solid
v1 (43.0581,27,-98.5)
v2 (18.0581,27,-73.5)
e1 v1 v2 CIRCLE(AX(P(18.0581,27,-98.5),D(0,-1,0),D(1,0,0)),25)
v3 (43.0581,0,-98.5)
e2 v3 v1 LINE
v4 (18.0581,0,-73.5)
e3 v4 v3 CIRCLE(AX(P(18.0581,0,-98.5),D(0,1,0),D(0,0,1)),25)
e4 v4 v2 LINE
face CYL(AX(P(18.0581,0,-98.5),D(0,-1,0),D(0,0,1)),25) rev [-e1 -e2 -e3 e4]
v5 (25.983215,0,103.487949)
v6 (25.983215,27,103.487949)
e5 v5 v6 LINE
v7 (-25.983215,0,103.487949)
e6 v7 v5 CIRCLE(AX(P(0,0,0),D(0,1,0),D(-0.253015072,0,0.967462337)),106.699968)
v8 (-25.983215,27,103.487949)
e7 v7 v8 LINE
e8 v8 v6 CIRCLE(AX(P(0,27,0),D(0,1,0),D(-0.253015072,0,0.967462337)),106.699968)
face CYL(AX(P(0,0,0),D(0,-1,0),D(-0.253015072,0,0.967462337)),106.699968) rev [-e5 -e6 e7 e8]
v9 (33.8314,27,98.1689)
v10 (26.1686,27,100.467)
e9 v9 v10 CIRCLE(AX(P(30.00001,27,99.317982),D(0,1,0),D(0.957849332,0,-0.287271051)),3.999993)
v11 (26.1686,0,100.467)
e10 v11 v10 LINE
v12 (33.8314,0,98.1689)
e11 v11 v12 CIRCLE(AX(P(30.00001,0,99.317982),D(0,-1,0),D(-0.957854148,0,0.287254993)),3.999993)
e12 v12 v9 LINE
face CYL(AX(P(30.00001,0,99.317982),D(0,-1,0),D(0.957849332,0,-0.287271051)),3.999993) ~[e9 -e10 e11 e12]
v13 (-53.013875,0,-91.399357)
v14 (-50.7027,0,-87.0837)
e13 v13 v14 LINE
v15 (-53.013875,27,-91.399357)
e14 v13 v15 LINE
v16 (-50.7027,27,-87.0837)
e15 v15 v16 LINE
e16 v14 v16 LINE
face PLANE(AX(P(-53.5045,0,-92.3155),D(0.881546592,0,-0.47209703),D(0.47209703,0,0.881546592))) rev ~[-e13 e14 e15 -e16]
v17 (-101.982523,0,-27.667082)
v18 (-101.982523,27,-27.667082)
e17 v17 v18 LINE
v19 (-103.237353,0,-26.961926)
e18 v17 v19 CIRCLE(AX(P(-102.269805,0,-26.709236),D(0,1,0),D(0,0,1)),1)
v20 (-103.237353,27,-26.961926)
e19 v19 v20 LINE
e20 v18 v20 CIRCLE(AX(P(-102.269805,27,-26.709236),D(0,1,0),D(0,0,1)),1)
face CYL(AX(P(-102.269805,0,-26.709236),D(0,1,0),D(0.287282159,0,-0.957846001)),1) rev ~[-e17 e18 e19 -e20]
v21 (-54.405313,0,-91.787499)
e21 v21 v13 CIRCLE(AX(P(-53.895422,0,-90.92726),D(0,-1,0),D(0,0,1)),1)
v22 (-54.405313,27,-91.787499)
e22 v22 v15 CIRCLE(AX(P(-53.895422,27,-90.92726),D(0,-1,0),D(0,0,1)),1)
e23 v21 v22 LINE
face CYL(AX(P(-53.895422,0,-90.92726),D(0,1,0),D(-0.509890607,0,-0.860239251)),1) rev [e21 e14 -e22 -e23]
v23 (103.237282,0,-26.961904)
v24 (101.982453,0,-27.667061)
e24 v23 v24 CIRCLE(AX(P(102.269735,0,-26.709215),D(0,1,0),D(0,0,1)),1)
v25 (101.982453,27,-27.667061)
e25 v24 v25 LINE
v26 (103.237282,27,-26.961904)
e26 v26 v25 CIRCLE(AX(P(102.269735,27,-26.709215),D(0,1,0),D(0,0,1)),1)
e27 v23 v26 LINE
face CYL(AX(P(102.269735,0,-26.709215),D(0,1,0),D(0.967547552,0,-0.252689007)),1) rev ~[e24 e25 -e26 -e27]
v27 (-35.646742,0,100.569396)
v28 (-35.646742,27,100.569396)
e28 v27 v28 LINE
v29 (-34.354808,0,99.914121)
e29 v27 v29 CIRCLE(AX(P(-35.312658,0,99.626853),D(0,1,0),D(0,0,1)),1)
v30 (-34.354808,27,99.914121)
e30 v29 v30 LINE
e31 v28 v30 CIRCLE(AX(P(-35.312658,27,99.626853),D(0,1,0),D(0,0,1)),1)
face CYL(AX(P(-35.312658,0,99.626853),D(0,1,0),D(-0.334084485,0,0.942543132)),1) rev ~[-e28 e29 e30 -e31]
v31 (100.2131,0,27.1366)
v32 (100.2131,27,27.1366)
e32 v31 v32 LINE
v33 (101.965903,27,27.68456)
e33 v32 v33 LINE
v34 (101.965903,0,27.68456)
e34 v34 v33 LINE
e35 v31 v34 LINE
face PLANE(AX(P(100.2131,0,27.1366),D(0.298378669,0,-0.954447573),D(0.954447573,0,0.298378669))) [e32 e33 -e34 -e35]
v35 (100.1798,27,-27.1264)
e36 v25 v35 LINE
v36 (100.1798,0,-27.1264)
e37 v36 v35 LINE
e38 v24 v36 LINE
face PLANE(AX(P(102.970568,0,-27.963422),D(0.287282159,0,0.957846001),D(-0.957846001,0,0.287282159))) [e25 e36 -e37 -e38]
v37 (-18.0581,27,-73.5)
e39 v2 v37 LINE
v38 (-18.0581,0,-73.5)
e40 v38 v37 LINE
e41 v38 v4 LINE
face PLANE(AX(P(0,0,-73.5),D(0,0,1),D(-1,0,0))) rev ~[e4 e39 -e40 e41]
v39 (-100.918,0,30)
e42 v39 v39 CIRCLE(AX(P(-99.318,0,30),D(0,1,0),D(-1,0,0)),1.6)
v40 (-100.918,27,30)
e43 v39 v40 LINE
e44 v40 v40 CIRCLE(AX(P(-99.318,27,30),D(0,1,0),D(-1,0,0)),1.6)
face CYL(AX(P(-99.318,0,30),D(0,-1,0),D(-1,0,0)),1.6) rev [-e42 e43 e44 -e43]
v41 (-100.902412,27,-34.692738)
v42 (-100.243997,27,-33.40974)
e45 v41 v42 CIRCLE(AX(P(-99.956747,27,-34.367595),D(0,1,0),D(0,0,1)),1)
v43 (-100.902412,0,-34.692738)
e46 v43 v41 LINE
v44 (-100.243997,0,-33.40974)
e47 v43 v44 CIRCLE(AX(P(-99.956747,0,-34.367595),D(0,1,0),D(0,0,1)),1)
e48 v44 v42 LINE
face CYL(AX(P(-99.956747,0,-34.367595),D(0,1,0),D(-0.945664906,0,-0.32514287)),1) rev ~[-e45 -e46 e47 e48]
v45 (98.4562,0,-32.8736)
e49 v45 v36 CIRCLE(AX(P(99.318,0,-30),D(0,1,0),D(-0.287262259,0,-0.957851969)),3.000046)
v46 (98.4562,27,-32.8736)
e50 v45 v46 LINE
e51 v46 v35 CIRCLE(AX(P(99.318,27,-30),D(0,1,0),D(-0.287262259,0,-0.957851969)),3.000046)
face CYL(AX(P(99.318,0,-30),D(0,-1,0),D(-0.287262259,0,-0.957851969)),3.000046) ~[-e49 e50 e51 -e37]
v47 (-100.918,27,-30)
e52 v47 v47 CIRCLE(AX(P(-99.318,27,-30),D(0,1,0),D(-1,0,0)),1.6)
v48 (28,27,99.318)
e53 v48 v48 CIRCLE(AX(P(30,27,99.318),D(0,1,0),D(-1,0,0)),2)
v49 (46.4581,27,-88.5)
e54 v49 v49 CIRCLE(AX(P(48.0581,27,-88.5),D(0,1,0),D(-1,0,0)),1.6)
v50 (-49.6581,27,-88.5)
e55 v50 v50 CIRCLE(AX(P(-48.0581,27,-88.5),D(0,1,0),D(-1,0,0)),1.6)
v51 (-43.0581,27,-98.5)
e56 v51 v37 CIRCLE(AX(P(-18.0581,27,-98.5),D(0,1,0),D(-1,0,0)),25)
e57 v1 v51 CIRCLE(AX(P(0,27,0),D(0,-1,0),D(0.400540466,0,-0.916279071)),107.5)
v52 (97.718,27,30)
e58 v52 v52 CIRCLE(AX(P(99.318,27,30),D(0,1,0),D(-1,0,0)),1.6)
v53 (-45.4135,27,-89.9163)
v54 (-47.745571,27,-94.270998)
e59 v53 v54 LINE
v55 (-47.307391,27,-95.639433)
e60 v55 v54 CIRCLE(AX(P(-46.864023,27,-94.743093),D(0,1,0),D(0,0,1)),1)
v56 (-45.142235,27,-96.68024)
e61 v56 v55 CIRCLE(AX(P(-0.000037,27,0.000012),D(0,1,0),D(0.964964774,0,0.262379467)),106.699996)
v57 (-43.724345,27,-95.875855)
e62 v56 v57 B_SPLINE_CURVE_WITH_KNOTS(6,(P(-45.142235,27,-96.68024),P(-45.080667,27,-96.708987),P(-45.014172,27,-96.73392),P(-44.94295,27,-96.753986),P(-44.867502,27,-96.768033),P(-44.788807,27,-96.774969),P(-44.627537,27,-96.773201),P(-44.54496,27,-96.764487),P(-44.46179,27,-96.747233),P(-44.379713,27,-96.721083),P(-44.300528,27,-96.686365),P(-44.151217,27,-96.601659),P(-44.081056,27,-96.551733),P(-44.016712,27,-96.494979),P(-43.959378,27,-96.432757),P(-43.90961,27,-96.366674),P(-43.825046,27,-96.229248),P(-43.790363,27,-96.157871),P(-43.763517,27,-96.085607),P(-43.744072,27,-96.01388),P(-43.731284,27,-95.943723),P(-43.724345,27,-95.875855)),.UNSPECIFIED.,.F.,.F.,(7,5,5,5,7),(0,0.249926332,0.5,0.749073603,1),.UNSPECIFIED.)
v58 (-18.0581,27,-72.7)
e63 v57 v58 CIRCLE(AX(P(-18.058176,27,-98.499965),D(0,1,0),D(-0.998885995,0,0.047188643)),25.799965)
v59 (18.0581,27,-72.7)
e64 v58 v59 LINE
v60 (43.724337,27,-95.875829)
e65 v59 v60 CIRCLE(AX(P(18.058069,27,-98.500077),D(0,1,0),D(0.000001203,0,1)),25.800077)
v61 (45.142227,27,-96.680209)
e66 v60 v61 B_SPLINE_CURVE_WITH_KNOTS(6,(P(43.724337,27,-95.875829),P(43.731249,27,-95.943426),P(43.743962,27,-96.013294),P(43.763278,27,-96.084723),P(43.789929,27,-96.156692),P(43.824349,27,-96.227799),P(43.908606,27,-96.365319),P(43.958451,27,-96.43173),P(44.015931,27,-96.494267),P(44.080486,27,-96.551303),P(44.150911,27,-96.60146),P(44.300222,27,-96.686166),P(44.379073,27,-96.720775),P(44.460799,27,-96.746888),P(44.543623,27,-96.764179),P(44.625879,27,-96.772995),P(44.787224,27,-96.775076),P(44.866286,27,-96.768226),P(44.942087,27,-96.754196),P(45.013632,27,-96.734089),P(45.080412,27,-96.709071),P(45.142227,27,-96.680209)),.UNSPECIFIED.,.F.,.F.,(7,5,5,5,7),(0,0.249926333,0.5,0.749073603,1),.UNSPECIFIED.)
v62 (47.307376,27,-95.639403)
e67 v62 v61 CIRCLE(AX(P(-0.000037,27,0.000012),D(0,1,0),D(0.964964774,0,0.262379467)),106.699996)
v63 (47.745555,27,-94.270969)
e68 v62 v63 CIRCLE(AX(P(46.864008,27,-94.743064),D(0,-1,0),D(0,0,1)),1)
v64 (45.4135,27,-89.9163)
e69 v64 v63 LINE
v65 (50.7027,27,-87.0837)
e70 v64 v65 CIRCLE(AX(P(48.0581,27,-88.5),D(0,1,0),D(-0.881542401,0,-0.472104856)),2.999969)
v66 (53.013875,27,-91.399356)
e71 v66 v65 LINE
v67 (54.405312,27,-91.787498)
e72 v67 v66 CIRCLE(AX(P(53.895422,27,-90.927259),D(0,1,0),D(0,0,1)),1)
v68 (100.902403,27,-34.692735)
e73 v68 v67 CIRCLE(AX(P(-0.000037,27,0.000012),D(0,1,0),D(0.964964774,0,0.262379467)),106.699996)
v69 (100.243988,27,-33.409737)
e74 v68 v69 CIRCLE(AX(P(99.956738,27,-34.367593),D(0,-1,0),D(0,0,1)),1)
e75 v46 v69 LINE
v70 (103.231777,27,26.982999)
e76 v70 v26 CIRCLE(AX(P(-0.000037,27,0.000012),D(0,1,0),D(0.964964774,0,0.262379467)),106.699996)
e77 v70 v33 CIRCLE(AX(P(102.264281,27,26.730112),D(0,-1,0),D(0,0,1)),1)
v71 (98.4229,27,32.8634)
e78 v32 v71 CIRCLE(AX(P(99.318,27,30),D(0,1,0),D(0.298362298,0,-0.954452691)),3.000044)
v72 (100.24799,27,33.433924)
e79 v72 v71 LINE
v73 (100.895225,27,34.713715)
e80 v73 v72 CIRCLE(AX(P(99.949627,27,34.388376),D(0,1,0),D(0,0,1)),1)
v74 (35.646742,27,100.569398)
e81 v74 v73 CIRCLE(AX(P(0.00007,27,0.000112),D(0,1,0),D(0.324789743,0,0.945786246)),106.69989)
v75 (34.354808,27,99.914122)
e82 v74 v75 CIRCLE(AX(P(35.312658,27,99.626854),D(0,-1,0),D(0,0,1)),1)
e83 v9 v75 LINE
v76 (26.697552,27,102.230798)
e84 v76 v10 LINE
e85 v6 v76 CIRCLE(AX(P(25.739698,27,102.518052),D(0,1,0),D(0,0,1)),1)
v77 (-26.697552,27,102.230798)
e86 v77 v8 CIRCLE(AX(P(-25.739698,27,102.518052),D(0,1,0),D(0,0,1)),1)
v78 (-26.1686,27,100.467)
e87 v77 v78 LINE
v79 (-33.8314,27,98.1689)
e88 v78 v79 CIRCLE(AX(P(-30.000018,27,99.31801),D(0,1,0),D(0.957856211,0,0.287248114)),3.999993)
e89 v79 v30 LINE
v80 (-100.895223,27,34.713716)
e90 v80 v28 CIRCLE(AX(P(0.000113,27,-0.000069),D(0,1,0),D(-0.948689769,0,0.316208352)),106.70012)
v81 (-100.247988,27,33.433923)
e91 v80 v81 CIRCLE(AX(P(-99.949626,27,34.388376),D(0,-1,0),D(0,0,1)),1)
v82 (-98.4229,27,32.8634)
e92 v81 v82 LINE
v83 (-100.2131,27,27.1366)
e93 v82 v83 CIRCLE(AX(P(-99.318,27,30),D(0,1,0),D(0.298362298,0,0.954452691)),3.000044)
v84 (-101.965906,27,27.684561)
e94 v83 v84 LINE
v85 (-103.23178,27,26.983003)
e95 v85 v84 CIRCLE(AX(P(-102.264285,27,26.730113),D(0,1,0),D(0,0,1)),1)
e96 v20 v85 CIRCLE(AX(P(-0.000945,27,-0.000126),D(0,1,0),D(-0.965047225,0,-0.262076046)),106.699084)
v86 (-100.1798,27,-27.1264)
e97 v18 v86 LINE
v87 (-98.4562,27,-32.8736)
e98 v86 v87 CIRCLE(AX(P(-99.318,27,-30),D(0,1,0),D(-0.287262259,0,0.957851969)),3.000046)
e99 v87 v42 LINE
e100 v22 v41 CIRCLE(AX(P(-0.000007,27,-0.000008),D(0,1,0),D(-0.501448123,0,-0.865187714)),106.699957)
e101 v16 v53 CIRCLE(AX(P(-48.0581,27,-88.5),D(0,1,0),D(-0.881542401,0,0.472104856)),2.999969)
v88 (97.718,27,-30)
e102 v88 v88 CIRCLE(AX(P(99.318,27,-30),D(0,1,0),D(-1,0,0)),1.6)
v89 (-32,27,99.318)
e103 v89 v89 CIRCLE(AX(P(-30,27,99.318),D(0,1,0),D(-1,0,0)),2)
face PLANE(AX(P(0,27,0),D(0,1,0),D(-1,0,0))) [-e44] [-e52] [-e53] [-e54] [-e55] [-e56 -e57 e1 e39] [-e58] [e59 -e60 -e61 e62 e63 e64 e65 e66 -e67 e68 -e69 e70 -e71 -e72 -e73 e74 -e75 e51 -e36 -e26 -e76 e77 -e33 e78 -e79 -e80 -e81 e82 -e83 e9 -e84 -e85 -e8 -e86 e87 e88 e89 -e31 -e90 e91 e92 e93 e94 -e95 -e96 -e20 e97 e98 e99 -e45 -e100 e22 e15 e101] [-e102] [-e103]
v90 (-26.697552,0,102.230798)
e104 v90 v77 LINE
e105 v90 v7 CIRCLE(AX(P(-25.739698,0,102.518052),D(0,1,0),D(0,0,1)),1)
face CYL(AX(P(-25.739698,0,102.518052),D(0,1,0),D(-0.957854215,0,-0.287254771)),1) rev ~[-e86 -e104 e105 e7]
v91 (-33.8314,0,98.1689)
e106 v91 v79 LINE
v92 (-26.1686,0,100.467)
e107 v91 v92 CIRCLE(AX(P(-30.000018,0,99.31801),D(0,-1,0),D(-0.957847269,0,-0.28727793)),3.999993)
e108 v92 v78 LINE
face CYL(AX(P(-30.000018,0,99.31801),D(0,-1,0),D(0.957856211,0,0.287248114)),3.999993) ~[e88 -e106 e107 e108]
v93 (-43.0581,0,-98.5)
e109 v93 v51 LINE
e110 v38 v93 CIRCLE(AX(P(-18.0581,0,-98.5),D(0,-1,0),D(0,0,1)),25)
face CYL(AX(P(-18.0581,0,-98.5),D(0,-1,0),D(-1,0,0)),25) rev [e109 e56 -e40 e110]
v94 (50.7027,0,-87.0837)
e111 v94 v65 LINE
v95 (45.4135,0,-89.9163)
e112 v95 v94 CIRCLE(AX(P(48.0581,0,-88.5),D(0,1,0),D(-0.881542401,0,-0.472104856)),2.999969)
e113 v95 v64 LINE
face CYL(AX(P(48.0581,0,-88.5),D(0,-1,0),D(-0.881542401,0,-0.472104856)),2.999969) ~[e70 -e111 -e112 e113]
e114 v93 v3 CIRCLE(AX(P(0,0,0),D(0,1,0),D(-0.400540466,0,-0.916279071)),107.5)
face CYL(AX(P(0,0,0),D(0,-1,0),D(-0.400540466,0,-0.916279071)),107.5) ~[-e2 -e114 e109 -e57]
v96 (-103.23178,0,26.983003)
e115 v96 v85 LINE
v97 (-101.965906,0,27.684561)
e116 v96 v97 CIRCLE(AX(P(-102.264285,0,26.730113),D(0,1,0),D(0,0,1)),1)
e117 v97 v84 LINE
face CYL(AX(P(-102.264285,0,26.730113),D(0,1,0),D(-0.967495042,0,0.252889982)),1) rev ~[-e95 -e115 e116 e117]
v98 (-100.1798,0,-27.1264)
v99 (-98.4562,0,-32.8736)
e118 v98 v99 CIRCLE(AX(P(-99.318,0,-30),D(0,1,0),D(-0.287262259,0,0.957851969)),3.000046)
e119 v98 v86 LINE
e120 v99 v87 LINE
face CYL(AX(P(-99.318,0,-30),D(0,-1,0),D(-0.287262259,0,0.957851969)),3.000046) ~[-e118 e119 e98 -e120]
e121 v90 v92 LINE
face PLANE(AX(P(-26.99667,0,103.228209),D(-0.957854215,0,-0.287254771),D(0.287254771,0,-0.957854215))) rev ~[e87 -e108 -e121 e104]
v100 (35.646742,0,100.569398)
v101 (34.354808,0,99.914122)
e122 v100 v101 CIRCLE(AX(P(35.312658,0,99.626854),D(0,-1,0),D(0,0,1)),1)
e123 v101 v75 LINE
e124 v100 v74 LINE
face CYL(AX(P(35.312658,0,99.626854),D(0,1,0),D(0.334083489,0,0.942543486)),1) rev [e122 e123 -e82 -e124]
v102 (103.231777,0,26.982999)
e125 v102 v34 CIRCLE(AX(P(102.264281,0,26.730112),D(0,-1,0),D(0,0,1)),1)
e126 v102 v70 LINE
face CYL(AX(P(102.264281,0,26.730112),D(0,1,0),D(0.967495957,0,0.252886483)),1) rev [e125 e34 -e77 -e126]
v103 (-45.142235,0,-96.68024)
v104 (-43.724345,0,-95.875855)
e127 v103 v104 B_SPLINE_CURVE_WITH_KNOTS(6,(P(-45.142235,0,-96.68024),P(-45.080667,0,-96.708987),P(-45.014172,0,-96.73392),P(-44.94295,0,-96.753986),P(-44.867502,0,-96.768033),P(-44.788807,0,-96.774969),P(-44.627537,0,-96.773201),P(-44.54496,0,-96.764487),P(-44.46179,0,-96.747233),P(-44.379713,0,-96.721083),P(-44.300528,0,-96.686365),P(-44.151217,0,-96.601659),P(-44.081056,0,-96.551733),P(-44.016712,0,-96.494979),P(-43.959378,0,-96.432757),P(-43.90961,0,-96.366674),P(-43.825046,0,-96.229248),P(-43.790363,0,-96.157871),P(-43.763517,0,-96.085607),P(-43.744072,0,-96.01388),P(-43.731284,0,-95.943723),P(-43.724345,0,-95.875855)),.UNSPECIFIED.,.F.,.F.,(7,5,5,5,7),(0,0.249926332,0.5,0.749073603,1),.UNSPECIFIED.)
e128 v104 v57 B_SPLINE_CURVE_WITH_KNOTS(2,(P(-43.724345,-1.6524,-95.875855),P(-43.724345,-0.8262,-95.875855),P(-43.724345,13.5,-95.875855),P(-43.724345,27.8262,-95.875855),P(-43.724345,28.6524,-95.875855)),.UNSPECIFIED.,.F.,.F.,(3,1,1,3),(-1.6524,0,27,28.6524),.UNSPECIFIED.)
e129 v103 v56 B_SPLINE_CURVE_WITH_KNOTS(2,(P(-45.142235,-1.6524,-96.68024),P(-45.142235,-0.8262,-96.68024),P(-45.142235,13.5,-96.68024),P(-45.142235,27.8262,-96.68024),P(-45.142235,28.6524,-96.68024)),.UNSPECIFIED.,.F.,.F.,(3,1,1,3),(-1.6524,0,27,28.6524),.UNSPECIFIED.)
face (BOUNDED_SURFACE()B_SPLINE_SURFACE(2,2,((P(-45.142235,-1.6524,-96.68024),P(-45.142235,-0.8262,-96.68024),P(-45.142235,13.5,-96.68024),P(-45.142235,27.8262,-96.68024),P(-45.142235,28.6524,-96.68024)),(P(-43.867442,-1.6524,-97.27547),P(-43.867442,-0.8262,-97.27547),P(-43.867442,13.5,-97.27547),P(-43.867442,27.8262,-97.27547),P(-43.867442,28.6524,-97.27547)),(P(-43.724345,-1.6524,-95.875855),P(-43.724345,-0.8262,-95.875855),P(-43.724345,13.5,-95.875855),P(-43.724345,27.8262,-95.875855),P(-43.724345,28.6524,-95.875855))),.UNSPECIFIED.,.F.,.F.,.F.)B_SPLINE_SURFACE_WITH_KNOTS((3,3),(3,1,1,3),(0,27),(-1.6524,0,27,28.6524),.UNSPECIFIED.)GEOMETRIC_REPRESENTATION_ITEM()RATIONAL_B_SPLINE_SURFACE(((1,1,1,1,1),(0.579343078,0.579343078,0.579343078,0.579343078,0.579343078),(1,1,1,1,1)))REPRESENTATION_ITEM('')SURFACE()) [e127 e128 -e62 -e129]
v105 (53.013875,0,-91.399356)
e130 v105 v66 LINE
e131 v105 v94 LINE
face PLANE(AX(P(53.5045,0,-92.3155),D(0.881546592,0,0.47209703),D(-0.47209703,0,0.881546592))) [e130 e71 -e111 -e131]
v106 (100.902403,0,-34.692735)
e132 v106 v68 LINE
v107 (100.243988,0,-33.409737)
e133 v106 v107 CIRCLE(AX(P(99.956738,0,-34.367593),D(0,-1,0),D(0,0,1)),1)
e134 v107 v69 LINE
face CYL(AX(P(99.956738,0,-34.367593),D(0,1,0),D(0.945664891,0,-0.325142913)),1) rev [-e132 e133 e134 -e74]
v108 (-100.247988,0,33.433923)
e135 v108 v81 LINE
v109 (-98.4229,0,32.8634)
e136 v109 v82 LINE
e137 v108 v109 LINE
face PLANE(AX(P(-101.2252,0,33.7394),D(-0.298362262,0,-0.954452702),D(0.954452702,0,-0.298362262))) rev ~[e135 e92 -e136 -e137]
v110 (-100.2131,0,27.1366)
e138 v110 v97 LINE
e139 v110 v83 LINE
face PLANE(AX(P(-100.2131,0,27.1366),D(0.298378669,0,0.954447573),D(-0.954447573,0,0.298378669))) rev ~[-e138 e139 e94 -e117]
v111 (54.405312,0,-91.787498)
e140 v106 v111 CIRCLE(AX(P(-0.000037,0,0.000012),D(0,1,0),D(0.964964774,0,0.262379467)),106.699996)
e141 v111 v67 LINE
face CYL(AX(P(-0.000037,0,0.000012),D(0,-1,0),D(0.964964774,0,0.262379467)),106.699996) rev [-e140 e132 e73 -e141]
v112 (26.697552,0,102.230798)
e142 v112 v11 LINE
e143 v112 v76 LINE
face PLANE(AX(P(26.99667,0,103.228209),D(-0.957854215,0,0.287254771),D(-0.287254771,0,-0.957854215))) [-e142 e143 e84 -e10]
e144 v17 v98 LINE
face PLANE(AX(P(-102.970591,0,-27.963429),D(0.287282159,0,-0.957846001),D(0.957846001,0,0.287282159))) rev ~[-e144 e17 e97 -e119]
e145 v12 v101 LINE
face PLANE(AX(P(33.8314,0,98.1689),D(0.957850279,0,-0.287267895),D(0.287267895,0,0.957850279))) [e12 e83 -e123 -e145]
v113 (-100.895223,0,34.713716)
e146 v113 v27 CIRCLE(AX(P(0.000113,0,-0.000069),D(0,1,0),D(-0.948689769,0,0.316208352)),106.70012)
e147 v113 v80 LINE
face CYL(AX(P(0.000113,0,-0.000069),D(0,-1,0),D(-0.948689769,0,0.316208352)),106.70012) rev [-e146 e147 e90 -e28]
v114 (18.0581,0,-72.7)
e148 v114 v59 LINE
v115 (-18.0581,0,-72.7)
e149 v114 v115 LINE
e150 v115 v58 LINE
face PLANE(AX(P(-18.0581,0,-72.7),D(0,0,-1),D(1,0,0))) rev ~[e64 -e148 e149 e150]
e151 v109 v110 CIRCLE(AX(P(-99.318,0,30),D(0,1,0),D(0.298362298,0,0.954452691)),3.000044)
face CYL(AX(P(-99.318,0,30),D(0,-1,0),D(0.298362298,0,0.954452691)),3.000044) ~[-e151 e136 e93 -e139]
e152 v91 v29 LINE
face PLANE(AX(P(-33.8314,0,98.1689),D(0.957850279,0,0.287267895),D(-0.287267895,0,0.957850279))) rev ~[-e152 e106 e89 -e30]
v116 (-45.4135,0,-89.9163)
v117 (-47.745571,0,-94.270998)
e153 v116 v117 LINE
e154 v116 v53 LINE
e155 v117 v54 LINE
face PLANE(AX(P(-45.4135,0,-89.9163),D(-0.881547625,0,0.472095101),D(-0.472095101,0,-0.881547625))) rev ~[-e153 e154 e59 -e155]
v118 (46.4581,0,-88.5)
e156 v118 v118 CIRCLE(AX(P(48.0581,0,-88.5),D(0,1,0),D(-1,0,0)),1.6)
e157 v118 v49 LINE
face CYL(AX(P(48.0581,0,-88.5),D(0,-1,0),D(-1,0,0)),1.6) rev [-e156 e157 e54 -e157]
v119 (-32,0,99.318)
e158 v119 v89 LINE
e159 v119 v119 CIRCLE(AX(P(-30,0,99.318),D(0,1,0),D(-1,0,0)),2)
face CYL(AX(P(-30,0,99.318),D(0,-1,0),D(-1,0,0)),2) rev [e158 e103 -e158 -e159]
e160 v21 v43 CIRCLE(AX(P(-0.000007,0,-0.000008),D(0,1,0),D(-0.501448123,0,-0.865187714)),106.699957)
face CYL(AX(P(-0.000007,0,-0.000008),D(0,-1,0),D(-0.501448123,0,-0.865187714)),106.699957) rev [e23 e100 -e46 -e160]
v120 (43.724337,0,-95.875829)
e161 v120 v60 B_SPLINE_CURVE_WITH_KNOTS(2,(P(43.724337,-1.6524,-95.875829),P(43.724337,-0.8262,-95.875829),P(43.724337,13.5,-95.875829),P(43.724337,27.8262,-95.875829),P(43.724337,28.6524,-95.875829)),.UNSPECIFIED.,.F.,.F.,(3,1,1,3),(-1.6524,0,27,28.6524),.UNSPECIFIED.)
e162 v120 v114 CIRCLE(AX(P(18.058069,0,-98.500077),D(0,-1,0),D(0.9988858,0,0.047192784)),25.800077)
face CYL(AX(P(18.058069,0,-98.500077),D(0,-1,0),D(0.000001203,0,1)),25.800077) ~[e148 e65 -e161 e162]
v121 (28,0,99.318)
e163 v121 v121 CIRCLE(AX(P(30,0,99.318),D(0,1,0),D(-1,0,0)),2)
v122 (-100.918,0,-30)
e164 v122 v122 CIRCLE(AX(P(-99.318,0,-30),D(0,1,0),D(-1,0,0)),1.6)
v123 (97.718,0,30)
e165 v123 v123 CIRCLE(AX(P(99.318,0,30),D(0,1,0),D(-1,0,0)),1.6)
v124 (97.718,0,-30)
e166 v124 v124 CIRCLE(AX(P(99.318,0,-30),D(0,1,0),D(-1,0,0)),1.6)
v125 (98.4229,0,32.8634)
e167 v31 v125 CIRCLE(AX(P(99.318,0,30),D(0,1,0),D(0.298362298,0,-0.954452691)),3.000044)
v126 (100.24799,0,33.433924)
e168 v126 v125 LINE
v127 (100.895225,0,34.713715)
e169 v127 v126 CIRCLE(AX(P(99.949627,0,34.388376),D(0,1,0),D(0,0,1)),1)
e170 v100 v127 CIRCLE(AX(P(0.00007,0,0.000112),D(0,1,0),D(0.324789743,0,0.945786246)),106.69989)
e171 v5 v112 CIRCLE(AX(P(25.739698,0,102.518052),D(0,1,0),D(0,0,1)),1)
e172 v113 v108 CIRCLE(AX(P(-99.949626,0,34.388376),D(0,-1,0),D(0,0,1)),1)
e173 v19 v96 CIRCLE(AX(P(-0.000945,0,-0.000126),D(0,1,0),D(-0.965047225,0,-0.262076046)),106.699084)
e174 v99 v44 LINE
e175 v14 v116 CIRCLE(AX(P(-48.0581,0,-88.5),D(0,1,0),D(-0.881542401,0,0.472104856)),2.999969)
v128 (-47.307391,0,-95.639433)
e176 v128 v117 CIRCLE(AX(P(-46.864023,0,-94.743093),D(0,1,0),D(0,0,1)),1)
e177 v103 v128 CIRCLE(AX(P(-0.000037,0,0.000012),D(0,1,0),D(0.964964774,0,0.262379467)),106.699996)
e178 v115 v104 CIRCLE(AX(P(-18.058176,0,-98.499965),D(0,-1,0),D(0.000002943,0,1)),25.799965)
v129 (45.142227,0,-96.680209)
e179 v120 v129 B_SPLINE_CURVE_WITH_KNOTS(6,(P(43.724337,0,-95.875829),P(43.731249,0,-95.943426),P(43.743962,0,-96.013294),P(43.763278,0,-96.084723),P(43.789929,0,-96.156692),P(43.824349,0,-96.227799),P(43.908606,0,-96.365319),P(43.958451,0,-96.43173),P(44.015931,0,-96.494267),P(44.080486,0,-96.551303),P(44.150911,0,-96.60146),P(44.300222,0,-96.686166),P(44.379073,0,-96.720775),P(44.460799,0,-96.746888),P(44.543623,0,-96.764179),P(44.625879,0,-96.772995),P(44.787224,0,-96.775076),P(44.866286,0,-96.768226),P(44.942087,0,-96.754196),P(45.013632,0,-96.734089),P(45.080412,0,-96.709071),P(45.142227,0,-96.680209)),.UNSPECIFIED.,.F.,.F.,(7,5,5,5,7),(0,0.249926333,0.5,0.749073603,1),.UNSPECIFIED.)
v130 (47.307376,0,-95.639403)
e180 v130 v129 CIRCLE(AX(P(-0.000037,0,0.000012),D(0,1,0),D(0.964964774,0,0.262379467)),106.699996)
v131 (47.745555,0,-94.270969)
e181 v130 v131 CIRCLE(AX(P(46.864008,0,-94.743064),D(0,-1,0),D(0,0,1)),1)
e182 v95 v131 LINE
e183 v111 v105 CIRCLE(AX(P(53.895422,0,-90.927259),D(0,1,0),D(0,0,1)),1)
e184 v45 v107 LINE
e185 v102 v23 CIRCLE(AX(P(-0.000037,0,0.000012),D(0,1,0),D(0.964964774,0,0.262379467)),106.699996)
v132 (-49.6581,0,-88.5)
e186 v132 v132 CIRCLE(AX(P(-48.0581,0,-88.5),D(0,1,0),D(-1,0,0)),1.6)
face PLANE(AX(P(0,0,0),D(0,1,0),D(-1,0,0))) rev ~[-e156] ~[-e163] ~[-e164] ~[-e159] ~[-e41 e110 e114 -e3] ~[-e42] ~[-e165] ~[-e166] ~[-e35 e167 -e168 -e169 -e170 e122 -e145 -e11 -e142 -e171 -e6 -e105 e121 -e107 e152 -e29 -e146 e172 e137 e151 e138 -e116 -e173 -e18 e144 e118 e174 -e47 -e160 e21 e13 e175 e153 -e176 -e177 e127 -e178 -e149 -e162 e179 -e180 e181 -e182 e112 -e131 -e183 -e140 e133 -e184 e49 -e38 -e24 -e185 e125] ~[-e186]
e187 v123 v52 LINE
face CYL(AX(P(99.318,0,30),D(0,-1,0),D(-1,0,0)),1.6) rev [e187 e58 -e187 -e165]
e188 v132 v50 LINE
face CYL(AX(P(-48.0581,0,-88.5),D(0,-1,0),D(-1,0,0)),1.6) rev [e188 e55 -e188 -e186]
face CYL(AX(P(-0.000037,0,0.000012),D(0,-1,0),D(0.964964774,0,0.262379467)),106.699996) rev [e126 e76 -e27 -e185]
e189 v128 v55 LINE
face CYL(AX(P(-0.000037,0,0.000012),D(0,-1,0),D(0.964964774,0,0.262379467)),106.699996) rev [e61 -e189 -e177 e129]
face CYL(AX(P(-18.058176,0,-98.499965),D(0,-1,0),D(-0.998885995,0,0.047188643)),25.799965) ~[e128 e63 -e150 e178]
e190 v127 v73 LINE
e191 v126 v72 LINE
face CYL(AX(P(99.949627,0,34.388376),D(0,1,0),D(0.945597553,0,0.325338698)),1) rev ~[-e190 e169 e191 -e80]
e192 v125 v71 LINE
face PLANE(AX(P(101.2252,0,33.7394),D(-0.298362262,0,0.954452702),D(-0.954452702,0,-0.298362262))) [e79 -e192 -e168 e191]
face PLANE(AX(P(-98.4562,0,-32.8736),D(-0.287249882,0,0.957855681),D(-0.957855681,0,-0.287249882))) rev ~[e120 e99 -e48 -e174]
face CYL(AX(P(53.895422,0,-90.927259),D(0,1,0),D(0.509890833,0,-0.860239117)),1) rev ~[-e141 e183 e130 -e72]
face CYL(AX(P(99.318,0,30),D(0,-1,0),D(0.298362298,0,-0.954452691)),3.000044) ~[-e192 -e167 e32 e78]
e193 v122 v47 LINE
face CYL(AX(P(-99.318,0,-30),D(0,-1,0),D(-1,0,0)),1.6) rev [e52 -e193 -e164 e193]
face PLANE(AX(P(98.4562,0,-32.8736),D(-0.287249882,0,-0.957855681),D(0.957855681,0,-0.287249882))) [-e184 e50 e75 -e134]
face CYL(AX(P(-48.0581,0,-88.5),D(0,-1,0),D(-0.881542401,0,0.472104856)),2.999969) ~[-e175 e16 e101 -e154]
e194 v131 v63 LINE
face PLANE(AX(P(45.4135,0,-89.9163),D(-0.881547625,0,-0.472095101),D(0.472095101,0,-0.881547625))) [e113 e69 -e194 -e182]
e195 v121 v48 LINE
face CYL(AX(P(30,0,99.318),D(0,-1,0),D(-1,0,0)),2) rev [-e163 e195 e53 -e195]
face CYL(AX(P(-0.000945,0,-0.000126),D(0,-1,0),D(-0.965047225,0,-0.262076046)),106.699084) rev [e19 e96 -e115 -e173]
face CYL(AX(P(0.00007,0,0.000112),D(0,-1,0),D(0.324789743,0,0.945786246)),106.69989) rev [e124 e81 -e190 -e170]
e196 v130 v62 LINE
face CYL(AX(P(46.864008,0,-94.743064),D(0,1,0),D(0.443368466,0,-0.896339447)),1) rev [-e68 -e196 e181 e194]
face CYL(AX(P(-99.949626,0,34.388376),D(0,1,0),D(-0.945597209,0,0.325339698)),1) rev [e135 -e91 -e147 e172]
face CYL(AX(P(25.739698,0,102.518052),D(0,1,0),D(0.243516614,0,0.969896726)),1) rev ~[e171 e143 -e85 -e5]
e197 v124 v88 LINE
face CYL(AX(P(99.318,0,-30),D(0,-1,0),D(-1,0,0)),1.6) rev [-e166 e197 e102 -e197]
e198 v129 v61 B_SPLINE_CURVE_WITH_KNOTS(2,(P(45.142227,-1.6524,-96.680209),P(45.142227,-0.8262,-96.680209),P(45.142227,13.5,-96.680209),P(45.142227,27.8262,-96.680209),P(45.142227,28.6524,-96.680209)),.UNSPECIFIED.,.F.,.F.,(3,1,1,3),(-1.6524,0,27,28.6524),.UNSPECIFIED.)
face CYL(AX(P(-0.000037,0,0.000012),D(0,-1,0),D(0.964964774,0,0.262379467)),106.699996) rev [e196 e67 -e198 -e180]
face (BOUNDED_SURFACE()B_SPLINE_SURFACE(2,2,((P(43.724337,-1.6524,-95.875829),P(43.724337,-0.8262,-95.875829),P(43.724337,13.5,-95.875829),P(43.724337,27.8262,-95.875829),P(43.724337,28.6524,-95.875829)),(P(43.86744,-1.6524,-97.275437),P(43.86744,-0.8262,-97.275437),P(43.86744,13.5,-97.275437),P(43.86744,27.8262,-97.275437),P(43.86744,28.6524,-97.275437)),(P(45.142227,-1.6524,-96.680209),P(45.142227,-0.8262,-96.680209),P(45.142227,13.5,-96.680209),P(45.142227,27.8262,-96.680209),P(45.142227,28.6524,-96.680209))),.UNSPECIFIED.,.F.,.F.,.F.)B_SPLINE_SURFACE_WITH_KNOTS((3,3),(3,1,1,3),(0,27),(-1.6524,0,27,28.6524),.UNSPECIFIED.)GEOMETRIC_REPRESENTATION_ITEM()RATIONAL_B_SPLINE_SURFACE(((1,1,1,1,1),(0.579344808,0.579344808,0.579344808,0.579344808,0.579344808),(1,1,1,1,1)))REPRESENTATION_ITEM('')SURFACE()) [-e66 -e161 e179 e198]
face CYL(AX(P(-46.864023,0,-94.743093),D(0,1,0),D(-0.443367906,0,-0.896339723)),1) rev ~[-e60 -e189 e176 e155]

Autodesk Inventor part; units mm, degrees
ref_plane "YZ Plane" through (0, 0, 0) normal (1, 0, 0) x (0, 1, 0)
ref_plane "XZ Plane" through (0, 0, 0) normal (0, 1, 0) x (-1, 0, 0)
ref_plane "XY Plane" through (0, 0, 0) normal (0, 0, 1) x (1, 0, 0)
sketch "Sketch1" plane through (0, 0, 0) normal (0, 1, 0) x (-1, 0, 0)
  circle A0 centre (0, 0) radius 103.75 construction
  line L0 (0, -103.75) -> (-30, -103.75) construction
  line L1 (-30, -103.75) -> (-30, -99.318) construction
  line L2 (0, -103.75) -> (0, -91.6543) construction
  line L3 (0, 0) -> (-10.2863, 0) construction
  circle A1 centre (-30, -99.318) radius 1.6
  circle A2 centre (30, -99.318) radius 1.6
  circle A3 centre (-99.318, -30) radius 1.6
  circle A4 centre (-99.318, 30) radius 1.6
  arc A5 (53.1423, -96.3114) -> (51.7739, -97.0539) centre (0, 0) ccw construction
  arc A6 (43.0581, -98.5) -> (-43.0581, -98.5) centre (0, 0) ccw
  line L4 (0, -107.5) -> (0, -98.5) construction
  line L5 (0, -98.5) -> (0, -73.5) construction
  line L6 (0, -98.5) -> (-43.0581, -98.5) construction
  line L7 (0, -98.5) -> (43.0581, -98.5) construction
  line L8 (43.0581, -98.5) -> (-43.0581, -98.5) construction
  line L9 (-18.0581, -73.5) -> (18.0581, -73.5)
  arc A7 (43.0581, -98.5) -> (18.0581, -73.5) centre (18.0581, -98.5) ccw
  arc A8 (-18.0581, -73.5) -> (-43.0581, -98.5) centre (-18.0581, -98.5) ccw
  line L10 (0, 107.5) -> (0, 97.5) construction
  line L11 (0, 97.5) -> (-22.5, 97.5) construction
  line L12 (-22.5, 97.5) -> (-22.5, 82.5) construction
  line L13 (22.5, 82.5) -> (22.5, 97.5) construction
  line L14 (22.5, 90) -> (-22.5, 90) construction
  line L15 (15, 97.5) -> (-15, 97.5)
  line L16 (-15, 82.5) -> (15, 82.5)
  arc A9 (15, 82.5) -> (15, 97.5) centre (15, 90) ccw
  arc A10 (-15, 97.5) -> (-15, 82.5) centre (-15, 90) ccw
  line L17 (22.5, 82.5) -> (17.5, 82.5) construction
  line L18 (17.5, 82.5) -> (17.5, 77.5) construction
  circle A11 centre (17.5, 77.5) radius 1.6
  circle A12 centre (-17.5, 77.5) radius 1.6
  line L19 (-58.3363, 79.5495) -> (-79.5495, 58.3363)
  arc A13 (-47.7297, 68.9429) -> (-58.3363, 79.5495) centre (-53.033, 74.2462) ccw
  arc A14 (-79.5495, 58.3363) -> (-68.9429, 47.7297) centre (-74.2462, 53.033) ccw
  line L20 (-68.9429, 47.7297) -> (-47.7297, 68.9429)
  circle A15 centre (-67.1751, 42.4264) radius 1.6
  circle A16 centre (-42.4264, 67.1751) radius 1.6
  line L21 (-97.5, 15) -> (-97.5, -15)
  arc A17 (-82.5, 15) -> (-97.5, 15) centre (-90, 15) ccw
  arc A18 (-97.5, -15) -> (-82.5, -15) centre (-90, -15) ccw
  line L22 (-82.5, -15) -> (-82.5, 15)
  circle A19 centre (-77.5, -17.5) radius 1.6
  circle A20 centre (-77.5, 17.5) radius 1.6
  line L23 (-79.5495, -58.3363) -> (-58.3363, -79.5495)
  arc A21 (-68.9429, -47.7297) -> (-79.5495, -58.3363) centre (-74.2462, -53.033) ccw
  arc A22 (-58.3363, -79.5495) -> (-47.7297, -68.9429) centre (-53.033, -74.2462) ccw
  line L24 (-47.7297, -68.9429) -> (-68.9429, -47.7297)
  circle A23 centre (-42.4264, -67.1751) radius 1.6
  circle A24 centre (-67.1751, -42.4264) radius 1.6
  line L25 (-15, -97.5) -> (15, -97.5)
  arc A25 (-15, -82.5) -> (-15, -97.5) centre (-15, -90) ccw
  arc A26 (15, -97.5) -> (15, -82.5) centre (15, -90) ccw
  line L26 (15, -82.5) -> (-15, -82.5)
  circle A27 centre (17.5, -77.5) radius 1.6
  circle A28 centre (-17.5, -77.5) radius 1.6
  line L27 (58.3363, -79.5495) -> (79.5495, -58.3363)
  arc A29 (47.7297, -68.9429) -> (58.3363, -79.5495) centre (53.033, -74.2462) ccw
  arc A30 (79.5495, -58.3363) -> (68.9429, -47.7297) centre (74.2462, -53.033) ccw
  line L28 (68.9429, -47.7297) -> (47.7297, -68.9429)
  circle A31 centre (67.1751, -42.4264) radius 1.6
  circle A32 centre (42.4264, -67.1751) radius 1.6
  line L29 (97.5, -15) -> (97.5, 15)
  arc A33 (82.5, -15) -> (97.5, -15) centre (90, -15) ccw
  arc A34 (97.5, 15) -> (82.5, 15) centre (90, 15) ccw
  line L30 (82.5, 15) -> (82.5, -15)
  circle A35 centre (77.5, 17.5) radius 1.6
  circle A36 centre (77.5, -17.5) radius 1.6
  line L31 (79.5495, 58.3363) -> (58.3363, 79.5495)
  arc A37 (68.9429, 47.7297) -> (79.5495, 58.3363) centre (74.2462, 53.033) ccw
  arc A38 (58.3363, 79.5495) -> (47.7297, 68.9429) centre (53.033, 74.2462) ccw
  line L32 (47.7297, 68.9429) -> (68.9429, 47.7297)
  circle A39 centre (42.4264, 67.1751) radius 1.6
  circle A40 centre (67.1751, 42.4264) radius 1.6
  line L33 (58.3363, -58.3363) -> (51.2652, -51.2652) construction
  line L34 (40.6586, -61.8718) -> (61.8718, -40.6586)
  arc A41 (40.6586, -61.8718) -> (44.5267, -89.5398) centre (53.033, -74.2462) ccw
  arc A42 (89.5398, -44.5267) -> (61.8718, -40.6586) centre (74.2462, -53.033) ccw
  line L35 (0, -73.5) -> (0, -66.5) construction
  arc A43 (44.5267, 89.5398) -> (40.6586, 61.8718) centre (53.033, 74.2462) ccw
  line L36 (61.8718, 40.6586) -> (40.6586, 61.8718)
  arc A44 (61.8718, 40.6586) -> (89.5398, 44.5267) centre (74.2462, 53.033) ccw
  arc A45 (-89.5398, 44.5267) -> (-61.8718, 40.6586) centre (-74.2462, 53.033) ccw
  line L37 (-40.6586, 61.8718) -> (-61.8718, 40.6586)
  arc A46 (-40.6586, 61.8718) -> (-44.5267, 89.5398) centre (-53.033, 74.2462) ccw
  arc A47 (-44.5267, -89.5398) -> (-40.6586, -61.8718) centre (-53.033, -74.2462) ccw
  line L38 (-61.8718, -40.6586) -> (-40.6586, -61.8718)
  arc A48 (-61.8718, -40.6586) -> (-89.5398, -44.5267) centre (-74.2462, -53.033) ccw
  arc A49 (89.5398, -44.5267) -> (89.5398, 44.5267) centre (0, 0) ccw
  arc A50 (-89.5398, 44.5267) -> (-89.5398, -44.5267) centre (0, 0) ccw
  line L39 (43.0581, -98.5) -> (48.0581, -98.5) construction
  line L40 (48.0581, -98.5) -> (48.0581, -88.5) construction
  circle A51 centre (48.0581, -88.5) radius 1.6
  circle A52 centre (-48.0581, -88.5) radius 1.6
  line L41 (18.0581, -66.5) -> (-18.0581, -66.5)
  arc A53 (17.5, -66.5) -> (43.0581, -59.4724) centre (19.5145, -23.8377) ccw
  arc A54 (-44.5267, -58.0038) -> (-18.0581, -66.5) centre (-19.5089, -25.5422) ccw
  circle A55 centre (30, -99.318) radius 1.6
  circle A56 centre (-30, -99.318) radius 1.6
  circle A57 centre (99.318, 30) radius 1.6
  circle A58 centre (99.318, -30) radius 1.6
  line L42 (76.014, -76.014) -> (75.4483, -75.4483) construction
  line L43 (50.8876, -93.7835) -> (51.2652, -94.4888) construction
  line L44 (51.0764, -94.1361) -> (48.0581, -88.5) construction
  line L45 (53.5045, -92.3155) -> (50.7027, -87.0837)
  line L46 (45.4135, -89.9163) -> (48.4318, -95.5524)
  arc A59 (50.7027, -87.0837) -> (45.4135, -89.9163) centre (48.0581, -88.5) ccw
  arc A60 (48.4318, -95.5524) -> (48.6295, -95.8719) centre (51.0764, -94.1361) ccw
  line L47 (102.1437, -30.8474) -> (102.9099, -31.0772) construction
  line L48 (99.318, -30) -> (102.5268, -30.9623) construction
  line L49 (98.4562, -32.8736) -> (101.2359, -33.7072)
  line L50 (103.3886, -28.0888) -> (100.1798, -27.1264)
  arc A61 (100.1798, -27.1264) -> (98.4562, -32.8736) centre (99.318, -30) ccw
  arc A62 (103.7313, -28.2147) -> (103.3886, -28.0888) centre (102.5268, -30.9623) ccw
  arc A63 (53.5045, -92.3155) -> (101.2359, -33.7072) centre (0, 0) ccw
  line L51 (102.1337, 30.8802) -> (102.8973, 31.1189) construction
  line L52 (99.318, 30) -> (102.5155, 30.9996) construction
  line L53 (100.2131, 27.1366) -> (103.4106, 28.1362)
  line L54 (101.2252, 33.7394) -> (98.4229, 32.8634)
  arc A64 (98.4229, 32.8634) -> (100.2131, 27.1366) centre (99.318, 30) ccw
  arc A65 (103.4106, 28.1362) -> (103.721, 28.2524) centre (102.5155, 30.9996) ccw
  arc A66 (102.9706, -27.9634) -> (102.9617, 27.9959) centre (0, 0) ccw
  line L55 (30.9623, 102.5268) -> (30, 99.318) construction
  line L56 (27.1309, 103.6758) -> (26.1686, 100.467)
  line L57 (33.8314, 98.1689) -> (34.6551, 100.9154)
  arc A67 (26.1686, 100.467) -> (33.8314, 98.1689) centre (30, 99.318) ccw
  arc A68 (27.2401, 103.9915) -> (27.1309, 103.6758) centre (30.9623, 102.5268) ccw
  arc A69 (101.2252, 33.7394) -> (34.6551, 100.9154) centre (0, 0) ccw
  arc A70 (44.5267, 89.5398) -> (30.2211, 95.3241) centre (0, 0) ccw
  arc A71 (-33.8314, 98.1689) -> (-26.1686, 100.467) centre (-30, 99.318) ccw
  line L58 (-33.8314, 98.1689) -> (-34.6551, 100.9154)
  line L59 (-27.1309, 103.6758) -> (-26.1686, 100.467)
  arc A72 (-27.1309, 103.6758) -> (-27.2401, 103.9915) centre (-30.9623, 102.5268) ccw
  arc A73 (26.9967, 103.2282) -> (-26.9967, 103.2282) centre (0, 0) ccw
  arc A74 (27.6048, 96.1144) -> (-27.6048, 96.1144) centre (0, 0) ccw
  arc A75 (-30.2211, 95.3241) -> (-44.5267, 89.5398) centre (0, 0) ccw
  line L60 (-101.2252, 33.7394) -> (-98.4229, 32.8634)
  arc A76 (-100.2131, 27.1366) -> (-98.4229, 32.8634) centre (-99.318, 30) ccw
  line L61 (-100.2131, 27.1366) -> (-103.4106, 28.1362)
  arc A77 (-103.721, 28.2524) -> (-103.4106, 28.1362) centre (-102.5155, 30.9996) ccw
  arc A78 (-34.6551, 100.9154) -> (-101.2252, 33.7394) centre (0, 0) ccw
  arc A79 (-102.9617, 27.9959) -> (48.2308, -95.1771) centre (0, 0) ccw
  circle A80 centre (30, 99.318) radius 2
  circle A81 centre (-30, 99.318) radius 2
  line L62 (0, -73.5) -> (0, -72.7)
  line L63 (18.0581, -72.7) -> (-18.0581, -72.7)
  arc A82 (-18.0581, -72.7) -> (-43.8294, -97.2825) centre (-18.0581, -98.5) ccw
  arc A83 (43.8294, -97.2825) -> (-43.8294, -97.2825) centre (0, 0) ccw
  arc A84 (43.8294, -97.2825) -> (18.0581, -72.7) centre (18.0581, -98.5) ccw
  circle A85 centre (-48.0581, -88.5) radius 1.6
  circle A86 centre (-99.318, -30) radius 1.6
  line L64 (-53.5045, -92.3155) -> (-50.7027, -87.0837)
  line L65 (-45.4135, -89.9163) -> (-48.4318, -95.5524)
  arc A87 (-45.4135, -89.9163) -> (-50.7027, -87.0837) centre (-48.0581, -88.5) ccw
  arc A88 (-48.6295, -95.8719) -> (-48.4318, -95.5524) centre (-51.0764, -94.1361) ccw
  line L66 (-98.4562, -32.8736) -> (-101.2359, -33.7072)
  line L67 (-103.3886, -28.0888) -> (-100.1798, -27.1264)
  arc A89 (-98.4562, -32.8736) -> (-100.1798, -27.1264) centre (-99.318, -30) ccw
  point P0 (0, 90)
  point P1 (-45.9619, 70.7107)
  point P2 (-82.5, 17.5)
  point P3 (-70.7107, -45.9619)
  point P4 (-17.5, -82.5)
  point P5 (45.9619, -70.7107)
  point P6 (82.5, -17.5)
  point P7 (70.7107, 45.9619)
  point P8 (35.7159, -76.7698)
  point P9 (49.5673, -91.3181)
  point P10 (100.9224, -30.4812)
  point P11 (100.9168, 30.4998)
  point P12 (30.4812, 100.9224)
  point P13 (-27.2401, 103.9915)
  point P14 (-103.721, 28.2524)
  point P15 (-43.8294, -97.2825)
  point P16 (-102.9706, -27.9634)
  point P17 (-48.2308, -95.1771)
  dimension "d10" = 215
  dimension "d6" = 207.5
  dimension "d7" = 30
  dimension "d8" = 3.2
  dimension "d9" = 220
  dimension "d11" = 9
  dimension "d12" = 25
  dimension "d13" = 10
  dimension "d14" = 22.5
  dimension "d15" = 15
  dimension "d16" = 45
  dimension "d17" = 5
  dimension "d18" = 5
  dimension "d19" = 3.2
  dimension "d20" = 86.1162
  dimension "d21" = 45
  dimension "d22" = 360
  dimension "d23" = 10
  dimension "d24" = 7
  dimension "d25" = 360
  dimension "d26" = 5
  dimension "d27" = 10
  dimension "d28" = 3.2
  dimension "d29" = 180
  dimension "d30" = 0.8
  dimension "d31" = 6
  dimension "d32" = 8
  dimension "d33" = 4
  dimension "d34" = 4
  dimension "d37" = 0.8
extrude "Extrusion1" add sketch "Sketch1" along normal blind 27 contours A7 A79 L46 A60 A6 | A60 L46 A83 A63 L50 A62 A6 | A7 L9 L62 L63 A84 A41 A79 | A62 L50 A66 L53 A65 A6 | A79 A82 A47 L63 L62 L9 A8 | A8 A6 A88 L65 A79 | A65 L53 A83 A69 L56 A68 A6 | L46 A59 L45 A83 | A41 A84 | A68 L56 A73 L59 A72 A6 | A83 L49 A61 L50 | A6 A77 L61 A79 L65 A88 | A79 L64 A87 L65 | A82 A47 | A72 L59 A83 A78 L61 A77 A6 | L53 A64 L54 A83 | A83 L57 A67 L56 | A79 L67 A89 L66 | L59 A71 L58 A83 | A83 L60 A76 L61
fillet "Fillet1" radius 1 18 edges at (-102.9706, 13.5, -27.9634) (-101.2359, 13.5, -33.7072) (-101.2252, 13.5, 33.7394) (-102.9617, 13.5, 27.9959) (-53.5045, 13.5, -92.3155) (-48.2308, 13.5, -95.1771) (53.5045, 13.5, -92.3155) (48.2308, 13.5, -95.1771) (102.9706, 13.5, -27.9634) (101.2359, 13.5, -33.7072) (102.9617, 13.5, 27.9959) (101.2252, 13.5, 33.7394) (-34.6551, 13.5, 100.9154) (34.6551, 13.5, 100.9154) (-43.8294, 13.5, -97.2825) (43.8294, 13.5, -97.2825) (-26.9967, 13.5, 103.2282) (26.9967, 13.5, 103.2282)
properties part number "Schutz4"
